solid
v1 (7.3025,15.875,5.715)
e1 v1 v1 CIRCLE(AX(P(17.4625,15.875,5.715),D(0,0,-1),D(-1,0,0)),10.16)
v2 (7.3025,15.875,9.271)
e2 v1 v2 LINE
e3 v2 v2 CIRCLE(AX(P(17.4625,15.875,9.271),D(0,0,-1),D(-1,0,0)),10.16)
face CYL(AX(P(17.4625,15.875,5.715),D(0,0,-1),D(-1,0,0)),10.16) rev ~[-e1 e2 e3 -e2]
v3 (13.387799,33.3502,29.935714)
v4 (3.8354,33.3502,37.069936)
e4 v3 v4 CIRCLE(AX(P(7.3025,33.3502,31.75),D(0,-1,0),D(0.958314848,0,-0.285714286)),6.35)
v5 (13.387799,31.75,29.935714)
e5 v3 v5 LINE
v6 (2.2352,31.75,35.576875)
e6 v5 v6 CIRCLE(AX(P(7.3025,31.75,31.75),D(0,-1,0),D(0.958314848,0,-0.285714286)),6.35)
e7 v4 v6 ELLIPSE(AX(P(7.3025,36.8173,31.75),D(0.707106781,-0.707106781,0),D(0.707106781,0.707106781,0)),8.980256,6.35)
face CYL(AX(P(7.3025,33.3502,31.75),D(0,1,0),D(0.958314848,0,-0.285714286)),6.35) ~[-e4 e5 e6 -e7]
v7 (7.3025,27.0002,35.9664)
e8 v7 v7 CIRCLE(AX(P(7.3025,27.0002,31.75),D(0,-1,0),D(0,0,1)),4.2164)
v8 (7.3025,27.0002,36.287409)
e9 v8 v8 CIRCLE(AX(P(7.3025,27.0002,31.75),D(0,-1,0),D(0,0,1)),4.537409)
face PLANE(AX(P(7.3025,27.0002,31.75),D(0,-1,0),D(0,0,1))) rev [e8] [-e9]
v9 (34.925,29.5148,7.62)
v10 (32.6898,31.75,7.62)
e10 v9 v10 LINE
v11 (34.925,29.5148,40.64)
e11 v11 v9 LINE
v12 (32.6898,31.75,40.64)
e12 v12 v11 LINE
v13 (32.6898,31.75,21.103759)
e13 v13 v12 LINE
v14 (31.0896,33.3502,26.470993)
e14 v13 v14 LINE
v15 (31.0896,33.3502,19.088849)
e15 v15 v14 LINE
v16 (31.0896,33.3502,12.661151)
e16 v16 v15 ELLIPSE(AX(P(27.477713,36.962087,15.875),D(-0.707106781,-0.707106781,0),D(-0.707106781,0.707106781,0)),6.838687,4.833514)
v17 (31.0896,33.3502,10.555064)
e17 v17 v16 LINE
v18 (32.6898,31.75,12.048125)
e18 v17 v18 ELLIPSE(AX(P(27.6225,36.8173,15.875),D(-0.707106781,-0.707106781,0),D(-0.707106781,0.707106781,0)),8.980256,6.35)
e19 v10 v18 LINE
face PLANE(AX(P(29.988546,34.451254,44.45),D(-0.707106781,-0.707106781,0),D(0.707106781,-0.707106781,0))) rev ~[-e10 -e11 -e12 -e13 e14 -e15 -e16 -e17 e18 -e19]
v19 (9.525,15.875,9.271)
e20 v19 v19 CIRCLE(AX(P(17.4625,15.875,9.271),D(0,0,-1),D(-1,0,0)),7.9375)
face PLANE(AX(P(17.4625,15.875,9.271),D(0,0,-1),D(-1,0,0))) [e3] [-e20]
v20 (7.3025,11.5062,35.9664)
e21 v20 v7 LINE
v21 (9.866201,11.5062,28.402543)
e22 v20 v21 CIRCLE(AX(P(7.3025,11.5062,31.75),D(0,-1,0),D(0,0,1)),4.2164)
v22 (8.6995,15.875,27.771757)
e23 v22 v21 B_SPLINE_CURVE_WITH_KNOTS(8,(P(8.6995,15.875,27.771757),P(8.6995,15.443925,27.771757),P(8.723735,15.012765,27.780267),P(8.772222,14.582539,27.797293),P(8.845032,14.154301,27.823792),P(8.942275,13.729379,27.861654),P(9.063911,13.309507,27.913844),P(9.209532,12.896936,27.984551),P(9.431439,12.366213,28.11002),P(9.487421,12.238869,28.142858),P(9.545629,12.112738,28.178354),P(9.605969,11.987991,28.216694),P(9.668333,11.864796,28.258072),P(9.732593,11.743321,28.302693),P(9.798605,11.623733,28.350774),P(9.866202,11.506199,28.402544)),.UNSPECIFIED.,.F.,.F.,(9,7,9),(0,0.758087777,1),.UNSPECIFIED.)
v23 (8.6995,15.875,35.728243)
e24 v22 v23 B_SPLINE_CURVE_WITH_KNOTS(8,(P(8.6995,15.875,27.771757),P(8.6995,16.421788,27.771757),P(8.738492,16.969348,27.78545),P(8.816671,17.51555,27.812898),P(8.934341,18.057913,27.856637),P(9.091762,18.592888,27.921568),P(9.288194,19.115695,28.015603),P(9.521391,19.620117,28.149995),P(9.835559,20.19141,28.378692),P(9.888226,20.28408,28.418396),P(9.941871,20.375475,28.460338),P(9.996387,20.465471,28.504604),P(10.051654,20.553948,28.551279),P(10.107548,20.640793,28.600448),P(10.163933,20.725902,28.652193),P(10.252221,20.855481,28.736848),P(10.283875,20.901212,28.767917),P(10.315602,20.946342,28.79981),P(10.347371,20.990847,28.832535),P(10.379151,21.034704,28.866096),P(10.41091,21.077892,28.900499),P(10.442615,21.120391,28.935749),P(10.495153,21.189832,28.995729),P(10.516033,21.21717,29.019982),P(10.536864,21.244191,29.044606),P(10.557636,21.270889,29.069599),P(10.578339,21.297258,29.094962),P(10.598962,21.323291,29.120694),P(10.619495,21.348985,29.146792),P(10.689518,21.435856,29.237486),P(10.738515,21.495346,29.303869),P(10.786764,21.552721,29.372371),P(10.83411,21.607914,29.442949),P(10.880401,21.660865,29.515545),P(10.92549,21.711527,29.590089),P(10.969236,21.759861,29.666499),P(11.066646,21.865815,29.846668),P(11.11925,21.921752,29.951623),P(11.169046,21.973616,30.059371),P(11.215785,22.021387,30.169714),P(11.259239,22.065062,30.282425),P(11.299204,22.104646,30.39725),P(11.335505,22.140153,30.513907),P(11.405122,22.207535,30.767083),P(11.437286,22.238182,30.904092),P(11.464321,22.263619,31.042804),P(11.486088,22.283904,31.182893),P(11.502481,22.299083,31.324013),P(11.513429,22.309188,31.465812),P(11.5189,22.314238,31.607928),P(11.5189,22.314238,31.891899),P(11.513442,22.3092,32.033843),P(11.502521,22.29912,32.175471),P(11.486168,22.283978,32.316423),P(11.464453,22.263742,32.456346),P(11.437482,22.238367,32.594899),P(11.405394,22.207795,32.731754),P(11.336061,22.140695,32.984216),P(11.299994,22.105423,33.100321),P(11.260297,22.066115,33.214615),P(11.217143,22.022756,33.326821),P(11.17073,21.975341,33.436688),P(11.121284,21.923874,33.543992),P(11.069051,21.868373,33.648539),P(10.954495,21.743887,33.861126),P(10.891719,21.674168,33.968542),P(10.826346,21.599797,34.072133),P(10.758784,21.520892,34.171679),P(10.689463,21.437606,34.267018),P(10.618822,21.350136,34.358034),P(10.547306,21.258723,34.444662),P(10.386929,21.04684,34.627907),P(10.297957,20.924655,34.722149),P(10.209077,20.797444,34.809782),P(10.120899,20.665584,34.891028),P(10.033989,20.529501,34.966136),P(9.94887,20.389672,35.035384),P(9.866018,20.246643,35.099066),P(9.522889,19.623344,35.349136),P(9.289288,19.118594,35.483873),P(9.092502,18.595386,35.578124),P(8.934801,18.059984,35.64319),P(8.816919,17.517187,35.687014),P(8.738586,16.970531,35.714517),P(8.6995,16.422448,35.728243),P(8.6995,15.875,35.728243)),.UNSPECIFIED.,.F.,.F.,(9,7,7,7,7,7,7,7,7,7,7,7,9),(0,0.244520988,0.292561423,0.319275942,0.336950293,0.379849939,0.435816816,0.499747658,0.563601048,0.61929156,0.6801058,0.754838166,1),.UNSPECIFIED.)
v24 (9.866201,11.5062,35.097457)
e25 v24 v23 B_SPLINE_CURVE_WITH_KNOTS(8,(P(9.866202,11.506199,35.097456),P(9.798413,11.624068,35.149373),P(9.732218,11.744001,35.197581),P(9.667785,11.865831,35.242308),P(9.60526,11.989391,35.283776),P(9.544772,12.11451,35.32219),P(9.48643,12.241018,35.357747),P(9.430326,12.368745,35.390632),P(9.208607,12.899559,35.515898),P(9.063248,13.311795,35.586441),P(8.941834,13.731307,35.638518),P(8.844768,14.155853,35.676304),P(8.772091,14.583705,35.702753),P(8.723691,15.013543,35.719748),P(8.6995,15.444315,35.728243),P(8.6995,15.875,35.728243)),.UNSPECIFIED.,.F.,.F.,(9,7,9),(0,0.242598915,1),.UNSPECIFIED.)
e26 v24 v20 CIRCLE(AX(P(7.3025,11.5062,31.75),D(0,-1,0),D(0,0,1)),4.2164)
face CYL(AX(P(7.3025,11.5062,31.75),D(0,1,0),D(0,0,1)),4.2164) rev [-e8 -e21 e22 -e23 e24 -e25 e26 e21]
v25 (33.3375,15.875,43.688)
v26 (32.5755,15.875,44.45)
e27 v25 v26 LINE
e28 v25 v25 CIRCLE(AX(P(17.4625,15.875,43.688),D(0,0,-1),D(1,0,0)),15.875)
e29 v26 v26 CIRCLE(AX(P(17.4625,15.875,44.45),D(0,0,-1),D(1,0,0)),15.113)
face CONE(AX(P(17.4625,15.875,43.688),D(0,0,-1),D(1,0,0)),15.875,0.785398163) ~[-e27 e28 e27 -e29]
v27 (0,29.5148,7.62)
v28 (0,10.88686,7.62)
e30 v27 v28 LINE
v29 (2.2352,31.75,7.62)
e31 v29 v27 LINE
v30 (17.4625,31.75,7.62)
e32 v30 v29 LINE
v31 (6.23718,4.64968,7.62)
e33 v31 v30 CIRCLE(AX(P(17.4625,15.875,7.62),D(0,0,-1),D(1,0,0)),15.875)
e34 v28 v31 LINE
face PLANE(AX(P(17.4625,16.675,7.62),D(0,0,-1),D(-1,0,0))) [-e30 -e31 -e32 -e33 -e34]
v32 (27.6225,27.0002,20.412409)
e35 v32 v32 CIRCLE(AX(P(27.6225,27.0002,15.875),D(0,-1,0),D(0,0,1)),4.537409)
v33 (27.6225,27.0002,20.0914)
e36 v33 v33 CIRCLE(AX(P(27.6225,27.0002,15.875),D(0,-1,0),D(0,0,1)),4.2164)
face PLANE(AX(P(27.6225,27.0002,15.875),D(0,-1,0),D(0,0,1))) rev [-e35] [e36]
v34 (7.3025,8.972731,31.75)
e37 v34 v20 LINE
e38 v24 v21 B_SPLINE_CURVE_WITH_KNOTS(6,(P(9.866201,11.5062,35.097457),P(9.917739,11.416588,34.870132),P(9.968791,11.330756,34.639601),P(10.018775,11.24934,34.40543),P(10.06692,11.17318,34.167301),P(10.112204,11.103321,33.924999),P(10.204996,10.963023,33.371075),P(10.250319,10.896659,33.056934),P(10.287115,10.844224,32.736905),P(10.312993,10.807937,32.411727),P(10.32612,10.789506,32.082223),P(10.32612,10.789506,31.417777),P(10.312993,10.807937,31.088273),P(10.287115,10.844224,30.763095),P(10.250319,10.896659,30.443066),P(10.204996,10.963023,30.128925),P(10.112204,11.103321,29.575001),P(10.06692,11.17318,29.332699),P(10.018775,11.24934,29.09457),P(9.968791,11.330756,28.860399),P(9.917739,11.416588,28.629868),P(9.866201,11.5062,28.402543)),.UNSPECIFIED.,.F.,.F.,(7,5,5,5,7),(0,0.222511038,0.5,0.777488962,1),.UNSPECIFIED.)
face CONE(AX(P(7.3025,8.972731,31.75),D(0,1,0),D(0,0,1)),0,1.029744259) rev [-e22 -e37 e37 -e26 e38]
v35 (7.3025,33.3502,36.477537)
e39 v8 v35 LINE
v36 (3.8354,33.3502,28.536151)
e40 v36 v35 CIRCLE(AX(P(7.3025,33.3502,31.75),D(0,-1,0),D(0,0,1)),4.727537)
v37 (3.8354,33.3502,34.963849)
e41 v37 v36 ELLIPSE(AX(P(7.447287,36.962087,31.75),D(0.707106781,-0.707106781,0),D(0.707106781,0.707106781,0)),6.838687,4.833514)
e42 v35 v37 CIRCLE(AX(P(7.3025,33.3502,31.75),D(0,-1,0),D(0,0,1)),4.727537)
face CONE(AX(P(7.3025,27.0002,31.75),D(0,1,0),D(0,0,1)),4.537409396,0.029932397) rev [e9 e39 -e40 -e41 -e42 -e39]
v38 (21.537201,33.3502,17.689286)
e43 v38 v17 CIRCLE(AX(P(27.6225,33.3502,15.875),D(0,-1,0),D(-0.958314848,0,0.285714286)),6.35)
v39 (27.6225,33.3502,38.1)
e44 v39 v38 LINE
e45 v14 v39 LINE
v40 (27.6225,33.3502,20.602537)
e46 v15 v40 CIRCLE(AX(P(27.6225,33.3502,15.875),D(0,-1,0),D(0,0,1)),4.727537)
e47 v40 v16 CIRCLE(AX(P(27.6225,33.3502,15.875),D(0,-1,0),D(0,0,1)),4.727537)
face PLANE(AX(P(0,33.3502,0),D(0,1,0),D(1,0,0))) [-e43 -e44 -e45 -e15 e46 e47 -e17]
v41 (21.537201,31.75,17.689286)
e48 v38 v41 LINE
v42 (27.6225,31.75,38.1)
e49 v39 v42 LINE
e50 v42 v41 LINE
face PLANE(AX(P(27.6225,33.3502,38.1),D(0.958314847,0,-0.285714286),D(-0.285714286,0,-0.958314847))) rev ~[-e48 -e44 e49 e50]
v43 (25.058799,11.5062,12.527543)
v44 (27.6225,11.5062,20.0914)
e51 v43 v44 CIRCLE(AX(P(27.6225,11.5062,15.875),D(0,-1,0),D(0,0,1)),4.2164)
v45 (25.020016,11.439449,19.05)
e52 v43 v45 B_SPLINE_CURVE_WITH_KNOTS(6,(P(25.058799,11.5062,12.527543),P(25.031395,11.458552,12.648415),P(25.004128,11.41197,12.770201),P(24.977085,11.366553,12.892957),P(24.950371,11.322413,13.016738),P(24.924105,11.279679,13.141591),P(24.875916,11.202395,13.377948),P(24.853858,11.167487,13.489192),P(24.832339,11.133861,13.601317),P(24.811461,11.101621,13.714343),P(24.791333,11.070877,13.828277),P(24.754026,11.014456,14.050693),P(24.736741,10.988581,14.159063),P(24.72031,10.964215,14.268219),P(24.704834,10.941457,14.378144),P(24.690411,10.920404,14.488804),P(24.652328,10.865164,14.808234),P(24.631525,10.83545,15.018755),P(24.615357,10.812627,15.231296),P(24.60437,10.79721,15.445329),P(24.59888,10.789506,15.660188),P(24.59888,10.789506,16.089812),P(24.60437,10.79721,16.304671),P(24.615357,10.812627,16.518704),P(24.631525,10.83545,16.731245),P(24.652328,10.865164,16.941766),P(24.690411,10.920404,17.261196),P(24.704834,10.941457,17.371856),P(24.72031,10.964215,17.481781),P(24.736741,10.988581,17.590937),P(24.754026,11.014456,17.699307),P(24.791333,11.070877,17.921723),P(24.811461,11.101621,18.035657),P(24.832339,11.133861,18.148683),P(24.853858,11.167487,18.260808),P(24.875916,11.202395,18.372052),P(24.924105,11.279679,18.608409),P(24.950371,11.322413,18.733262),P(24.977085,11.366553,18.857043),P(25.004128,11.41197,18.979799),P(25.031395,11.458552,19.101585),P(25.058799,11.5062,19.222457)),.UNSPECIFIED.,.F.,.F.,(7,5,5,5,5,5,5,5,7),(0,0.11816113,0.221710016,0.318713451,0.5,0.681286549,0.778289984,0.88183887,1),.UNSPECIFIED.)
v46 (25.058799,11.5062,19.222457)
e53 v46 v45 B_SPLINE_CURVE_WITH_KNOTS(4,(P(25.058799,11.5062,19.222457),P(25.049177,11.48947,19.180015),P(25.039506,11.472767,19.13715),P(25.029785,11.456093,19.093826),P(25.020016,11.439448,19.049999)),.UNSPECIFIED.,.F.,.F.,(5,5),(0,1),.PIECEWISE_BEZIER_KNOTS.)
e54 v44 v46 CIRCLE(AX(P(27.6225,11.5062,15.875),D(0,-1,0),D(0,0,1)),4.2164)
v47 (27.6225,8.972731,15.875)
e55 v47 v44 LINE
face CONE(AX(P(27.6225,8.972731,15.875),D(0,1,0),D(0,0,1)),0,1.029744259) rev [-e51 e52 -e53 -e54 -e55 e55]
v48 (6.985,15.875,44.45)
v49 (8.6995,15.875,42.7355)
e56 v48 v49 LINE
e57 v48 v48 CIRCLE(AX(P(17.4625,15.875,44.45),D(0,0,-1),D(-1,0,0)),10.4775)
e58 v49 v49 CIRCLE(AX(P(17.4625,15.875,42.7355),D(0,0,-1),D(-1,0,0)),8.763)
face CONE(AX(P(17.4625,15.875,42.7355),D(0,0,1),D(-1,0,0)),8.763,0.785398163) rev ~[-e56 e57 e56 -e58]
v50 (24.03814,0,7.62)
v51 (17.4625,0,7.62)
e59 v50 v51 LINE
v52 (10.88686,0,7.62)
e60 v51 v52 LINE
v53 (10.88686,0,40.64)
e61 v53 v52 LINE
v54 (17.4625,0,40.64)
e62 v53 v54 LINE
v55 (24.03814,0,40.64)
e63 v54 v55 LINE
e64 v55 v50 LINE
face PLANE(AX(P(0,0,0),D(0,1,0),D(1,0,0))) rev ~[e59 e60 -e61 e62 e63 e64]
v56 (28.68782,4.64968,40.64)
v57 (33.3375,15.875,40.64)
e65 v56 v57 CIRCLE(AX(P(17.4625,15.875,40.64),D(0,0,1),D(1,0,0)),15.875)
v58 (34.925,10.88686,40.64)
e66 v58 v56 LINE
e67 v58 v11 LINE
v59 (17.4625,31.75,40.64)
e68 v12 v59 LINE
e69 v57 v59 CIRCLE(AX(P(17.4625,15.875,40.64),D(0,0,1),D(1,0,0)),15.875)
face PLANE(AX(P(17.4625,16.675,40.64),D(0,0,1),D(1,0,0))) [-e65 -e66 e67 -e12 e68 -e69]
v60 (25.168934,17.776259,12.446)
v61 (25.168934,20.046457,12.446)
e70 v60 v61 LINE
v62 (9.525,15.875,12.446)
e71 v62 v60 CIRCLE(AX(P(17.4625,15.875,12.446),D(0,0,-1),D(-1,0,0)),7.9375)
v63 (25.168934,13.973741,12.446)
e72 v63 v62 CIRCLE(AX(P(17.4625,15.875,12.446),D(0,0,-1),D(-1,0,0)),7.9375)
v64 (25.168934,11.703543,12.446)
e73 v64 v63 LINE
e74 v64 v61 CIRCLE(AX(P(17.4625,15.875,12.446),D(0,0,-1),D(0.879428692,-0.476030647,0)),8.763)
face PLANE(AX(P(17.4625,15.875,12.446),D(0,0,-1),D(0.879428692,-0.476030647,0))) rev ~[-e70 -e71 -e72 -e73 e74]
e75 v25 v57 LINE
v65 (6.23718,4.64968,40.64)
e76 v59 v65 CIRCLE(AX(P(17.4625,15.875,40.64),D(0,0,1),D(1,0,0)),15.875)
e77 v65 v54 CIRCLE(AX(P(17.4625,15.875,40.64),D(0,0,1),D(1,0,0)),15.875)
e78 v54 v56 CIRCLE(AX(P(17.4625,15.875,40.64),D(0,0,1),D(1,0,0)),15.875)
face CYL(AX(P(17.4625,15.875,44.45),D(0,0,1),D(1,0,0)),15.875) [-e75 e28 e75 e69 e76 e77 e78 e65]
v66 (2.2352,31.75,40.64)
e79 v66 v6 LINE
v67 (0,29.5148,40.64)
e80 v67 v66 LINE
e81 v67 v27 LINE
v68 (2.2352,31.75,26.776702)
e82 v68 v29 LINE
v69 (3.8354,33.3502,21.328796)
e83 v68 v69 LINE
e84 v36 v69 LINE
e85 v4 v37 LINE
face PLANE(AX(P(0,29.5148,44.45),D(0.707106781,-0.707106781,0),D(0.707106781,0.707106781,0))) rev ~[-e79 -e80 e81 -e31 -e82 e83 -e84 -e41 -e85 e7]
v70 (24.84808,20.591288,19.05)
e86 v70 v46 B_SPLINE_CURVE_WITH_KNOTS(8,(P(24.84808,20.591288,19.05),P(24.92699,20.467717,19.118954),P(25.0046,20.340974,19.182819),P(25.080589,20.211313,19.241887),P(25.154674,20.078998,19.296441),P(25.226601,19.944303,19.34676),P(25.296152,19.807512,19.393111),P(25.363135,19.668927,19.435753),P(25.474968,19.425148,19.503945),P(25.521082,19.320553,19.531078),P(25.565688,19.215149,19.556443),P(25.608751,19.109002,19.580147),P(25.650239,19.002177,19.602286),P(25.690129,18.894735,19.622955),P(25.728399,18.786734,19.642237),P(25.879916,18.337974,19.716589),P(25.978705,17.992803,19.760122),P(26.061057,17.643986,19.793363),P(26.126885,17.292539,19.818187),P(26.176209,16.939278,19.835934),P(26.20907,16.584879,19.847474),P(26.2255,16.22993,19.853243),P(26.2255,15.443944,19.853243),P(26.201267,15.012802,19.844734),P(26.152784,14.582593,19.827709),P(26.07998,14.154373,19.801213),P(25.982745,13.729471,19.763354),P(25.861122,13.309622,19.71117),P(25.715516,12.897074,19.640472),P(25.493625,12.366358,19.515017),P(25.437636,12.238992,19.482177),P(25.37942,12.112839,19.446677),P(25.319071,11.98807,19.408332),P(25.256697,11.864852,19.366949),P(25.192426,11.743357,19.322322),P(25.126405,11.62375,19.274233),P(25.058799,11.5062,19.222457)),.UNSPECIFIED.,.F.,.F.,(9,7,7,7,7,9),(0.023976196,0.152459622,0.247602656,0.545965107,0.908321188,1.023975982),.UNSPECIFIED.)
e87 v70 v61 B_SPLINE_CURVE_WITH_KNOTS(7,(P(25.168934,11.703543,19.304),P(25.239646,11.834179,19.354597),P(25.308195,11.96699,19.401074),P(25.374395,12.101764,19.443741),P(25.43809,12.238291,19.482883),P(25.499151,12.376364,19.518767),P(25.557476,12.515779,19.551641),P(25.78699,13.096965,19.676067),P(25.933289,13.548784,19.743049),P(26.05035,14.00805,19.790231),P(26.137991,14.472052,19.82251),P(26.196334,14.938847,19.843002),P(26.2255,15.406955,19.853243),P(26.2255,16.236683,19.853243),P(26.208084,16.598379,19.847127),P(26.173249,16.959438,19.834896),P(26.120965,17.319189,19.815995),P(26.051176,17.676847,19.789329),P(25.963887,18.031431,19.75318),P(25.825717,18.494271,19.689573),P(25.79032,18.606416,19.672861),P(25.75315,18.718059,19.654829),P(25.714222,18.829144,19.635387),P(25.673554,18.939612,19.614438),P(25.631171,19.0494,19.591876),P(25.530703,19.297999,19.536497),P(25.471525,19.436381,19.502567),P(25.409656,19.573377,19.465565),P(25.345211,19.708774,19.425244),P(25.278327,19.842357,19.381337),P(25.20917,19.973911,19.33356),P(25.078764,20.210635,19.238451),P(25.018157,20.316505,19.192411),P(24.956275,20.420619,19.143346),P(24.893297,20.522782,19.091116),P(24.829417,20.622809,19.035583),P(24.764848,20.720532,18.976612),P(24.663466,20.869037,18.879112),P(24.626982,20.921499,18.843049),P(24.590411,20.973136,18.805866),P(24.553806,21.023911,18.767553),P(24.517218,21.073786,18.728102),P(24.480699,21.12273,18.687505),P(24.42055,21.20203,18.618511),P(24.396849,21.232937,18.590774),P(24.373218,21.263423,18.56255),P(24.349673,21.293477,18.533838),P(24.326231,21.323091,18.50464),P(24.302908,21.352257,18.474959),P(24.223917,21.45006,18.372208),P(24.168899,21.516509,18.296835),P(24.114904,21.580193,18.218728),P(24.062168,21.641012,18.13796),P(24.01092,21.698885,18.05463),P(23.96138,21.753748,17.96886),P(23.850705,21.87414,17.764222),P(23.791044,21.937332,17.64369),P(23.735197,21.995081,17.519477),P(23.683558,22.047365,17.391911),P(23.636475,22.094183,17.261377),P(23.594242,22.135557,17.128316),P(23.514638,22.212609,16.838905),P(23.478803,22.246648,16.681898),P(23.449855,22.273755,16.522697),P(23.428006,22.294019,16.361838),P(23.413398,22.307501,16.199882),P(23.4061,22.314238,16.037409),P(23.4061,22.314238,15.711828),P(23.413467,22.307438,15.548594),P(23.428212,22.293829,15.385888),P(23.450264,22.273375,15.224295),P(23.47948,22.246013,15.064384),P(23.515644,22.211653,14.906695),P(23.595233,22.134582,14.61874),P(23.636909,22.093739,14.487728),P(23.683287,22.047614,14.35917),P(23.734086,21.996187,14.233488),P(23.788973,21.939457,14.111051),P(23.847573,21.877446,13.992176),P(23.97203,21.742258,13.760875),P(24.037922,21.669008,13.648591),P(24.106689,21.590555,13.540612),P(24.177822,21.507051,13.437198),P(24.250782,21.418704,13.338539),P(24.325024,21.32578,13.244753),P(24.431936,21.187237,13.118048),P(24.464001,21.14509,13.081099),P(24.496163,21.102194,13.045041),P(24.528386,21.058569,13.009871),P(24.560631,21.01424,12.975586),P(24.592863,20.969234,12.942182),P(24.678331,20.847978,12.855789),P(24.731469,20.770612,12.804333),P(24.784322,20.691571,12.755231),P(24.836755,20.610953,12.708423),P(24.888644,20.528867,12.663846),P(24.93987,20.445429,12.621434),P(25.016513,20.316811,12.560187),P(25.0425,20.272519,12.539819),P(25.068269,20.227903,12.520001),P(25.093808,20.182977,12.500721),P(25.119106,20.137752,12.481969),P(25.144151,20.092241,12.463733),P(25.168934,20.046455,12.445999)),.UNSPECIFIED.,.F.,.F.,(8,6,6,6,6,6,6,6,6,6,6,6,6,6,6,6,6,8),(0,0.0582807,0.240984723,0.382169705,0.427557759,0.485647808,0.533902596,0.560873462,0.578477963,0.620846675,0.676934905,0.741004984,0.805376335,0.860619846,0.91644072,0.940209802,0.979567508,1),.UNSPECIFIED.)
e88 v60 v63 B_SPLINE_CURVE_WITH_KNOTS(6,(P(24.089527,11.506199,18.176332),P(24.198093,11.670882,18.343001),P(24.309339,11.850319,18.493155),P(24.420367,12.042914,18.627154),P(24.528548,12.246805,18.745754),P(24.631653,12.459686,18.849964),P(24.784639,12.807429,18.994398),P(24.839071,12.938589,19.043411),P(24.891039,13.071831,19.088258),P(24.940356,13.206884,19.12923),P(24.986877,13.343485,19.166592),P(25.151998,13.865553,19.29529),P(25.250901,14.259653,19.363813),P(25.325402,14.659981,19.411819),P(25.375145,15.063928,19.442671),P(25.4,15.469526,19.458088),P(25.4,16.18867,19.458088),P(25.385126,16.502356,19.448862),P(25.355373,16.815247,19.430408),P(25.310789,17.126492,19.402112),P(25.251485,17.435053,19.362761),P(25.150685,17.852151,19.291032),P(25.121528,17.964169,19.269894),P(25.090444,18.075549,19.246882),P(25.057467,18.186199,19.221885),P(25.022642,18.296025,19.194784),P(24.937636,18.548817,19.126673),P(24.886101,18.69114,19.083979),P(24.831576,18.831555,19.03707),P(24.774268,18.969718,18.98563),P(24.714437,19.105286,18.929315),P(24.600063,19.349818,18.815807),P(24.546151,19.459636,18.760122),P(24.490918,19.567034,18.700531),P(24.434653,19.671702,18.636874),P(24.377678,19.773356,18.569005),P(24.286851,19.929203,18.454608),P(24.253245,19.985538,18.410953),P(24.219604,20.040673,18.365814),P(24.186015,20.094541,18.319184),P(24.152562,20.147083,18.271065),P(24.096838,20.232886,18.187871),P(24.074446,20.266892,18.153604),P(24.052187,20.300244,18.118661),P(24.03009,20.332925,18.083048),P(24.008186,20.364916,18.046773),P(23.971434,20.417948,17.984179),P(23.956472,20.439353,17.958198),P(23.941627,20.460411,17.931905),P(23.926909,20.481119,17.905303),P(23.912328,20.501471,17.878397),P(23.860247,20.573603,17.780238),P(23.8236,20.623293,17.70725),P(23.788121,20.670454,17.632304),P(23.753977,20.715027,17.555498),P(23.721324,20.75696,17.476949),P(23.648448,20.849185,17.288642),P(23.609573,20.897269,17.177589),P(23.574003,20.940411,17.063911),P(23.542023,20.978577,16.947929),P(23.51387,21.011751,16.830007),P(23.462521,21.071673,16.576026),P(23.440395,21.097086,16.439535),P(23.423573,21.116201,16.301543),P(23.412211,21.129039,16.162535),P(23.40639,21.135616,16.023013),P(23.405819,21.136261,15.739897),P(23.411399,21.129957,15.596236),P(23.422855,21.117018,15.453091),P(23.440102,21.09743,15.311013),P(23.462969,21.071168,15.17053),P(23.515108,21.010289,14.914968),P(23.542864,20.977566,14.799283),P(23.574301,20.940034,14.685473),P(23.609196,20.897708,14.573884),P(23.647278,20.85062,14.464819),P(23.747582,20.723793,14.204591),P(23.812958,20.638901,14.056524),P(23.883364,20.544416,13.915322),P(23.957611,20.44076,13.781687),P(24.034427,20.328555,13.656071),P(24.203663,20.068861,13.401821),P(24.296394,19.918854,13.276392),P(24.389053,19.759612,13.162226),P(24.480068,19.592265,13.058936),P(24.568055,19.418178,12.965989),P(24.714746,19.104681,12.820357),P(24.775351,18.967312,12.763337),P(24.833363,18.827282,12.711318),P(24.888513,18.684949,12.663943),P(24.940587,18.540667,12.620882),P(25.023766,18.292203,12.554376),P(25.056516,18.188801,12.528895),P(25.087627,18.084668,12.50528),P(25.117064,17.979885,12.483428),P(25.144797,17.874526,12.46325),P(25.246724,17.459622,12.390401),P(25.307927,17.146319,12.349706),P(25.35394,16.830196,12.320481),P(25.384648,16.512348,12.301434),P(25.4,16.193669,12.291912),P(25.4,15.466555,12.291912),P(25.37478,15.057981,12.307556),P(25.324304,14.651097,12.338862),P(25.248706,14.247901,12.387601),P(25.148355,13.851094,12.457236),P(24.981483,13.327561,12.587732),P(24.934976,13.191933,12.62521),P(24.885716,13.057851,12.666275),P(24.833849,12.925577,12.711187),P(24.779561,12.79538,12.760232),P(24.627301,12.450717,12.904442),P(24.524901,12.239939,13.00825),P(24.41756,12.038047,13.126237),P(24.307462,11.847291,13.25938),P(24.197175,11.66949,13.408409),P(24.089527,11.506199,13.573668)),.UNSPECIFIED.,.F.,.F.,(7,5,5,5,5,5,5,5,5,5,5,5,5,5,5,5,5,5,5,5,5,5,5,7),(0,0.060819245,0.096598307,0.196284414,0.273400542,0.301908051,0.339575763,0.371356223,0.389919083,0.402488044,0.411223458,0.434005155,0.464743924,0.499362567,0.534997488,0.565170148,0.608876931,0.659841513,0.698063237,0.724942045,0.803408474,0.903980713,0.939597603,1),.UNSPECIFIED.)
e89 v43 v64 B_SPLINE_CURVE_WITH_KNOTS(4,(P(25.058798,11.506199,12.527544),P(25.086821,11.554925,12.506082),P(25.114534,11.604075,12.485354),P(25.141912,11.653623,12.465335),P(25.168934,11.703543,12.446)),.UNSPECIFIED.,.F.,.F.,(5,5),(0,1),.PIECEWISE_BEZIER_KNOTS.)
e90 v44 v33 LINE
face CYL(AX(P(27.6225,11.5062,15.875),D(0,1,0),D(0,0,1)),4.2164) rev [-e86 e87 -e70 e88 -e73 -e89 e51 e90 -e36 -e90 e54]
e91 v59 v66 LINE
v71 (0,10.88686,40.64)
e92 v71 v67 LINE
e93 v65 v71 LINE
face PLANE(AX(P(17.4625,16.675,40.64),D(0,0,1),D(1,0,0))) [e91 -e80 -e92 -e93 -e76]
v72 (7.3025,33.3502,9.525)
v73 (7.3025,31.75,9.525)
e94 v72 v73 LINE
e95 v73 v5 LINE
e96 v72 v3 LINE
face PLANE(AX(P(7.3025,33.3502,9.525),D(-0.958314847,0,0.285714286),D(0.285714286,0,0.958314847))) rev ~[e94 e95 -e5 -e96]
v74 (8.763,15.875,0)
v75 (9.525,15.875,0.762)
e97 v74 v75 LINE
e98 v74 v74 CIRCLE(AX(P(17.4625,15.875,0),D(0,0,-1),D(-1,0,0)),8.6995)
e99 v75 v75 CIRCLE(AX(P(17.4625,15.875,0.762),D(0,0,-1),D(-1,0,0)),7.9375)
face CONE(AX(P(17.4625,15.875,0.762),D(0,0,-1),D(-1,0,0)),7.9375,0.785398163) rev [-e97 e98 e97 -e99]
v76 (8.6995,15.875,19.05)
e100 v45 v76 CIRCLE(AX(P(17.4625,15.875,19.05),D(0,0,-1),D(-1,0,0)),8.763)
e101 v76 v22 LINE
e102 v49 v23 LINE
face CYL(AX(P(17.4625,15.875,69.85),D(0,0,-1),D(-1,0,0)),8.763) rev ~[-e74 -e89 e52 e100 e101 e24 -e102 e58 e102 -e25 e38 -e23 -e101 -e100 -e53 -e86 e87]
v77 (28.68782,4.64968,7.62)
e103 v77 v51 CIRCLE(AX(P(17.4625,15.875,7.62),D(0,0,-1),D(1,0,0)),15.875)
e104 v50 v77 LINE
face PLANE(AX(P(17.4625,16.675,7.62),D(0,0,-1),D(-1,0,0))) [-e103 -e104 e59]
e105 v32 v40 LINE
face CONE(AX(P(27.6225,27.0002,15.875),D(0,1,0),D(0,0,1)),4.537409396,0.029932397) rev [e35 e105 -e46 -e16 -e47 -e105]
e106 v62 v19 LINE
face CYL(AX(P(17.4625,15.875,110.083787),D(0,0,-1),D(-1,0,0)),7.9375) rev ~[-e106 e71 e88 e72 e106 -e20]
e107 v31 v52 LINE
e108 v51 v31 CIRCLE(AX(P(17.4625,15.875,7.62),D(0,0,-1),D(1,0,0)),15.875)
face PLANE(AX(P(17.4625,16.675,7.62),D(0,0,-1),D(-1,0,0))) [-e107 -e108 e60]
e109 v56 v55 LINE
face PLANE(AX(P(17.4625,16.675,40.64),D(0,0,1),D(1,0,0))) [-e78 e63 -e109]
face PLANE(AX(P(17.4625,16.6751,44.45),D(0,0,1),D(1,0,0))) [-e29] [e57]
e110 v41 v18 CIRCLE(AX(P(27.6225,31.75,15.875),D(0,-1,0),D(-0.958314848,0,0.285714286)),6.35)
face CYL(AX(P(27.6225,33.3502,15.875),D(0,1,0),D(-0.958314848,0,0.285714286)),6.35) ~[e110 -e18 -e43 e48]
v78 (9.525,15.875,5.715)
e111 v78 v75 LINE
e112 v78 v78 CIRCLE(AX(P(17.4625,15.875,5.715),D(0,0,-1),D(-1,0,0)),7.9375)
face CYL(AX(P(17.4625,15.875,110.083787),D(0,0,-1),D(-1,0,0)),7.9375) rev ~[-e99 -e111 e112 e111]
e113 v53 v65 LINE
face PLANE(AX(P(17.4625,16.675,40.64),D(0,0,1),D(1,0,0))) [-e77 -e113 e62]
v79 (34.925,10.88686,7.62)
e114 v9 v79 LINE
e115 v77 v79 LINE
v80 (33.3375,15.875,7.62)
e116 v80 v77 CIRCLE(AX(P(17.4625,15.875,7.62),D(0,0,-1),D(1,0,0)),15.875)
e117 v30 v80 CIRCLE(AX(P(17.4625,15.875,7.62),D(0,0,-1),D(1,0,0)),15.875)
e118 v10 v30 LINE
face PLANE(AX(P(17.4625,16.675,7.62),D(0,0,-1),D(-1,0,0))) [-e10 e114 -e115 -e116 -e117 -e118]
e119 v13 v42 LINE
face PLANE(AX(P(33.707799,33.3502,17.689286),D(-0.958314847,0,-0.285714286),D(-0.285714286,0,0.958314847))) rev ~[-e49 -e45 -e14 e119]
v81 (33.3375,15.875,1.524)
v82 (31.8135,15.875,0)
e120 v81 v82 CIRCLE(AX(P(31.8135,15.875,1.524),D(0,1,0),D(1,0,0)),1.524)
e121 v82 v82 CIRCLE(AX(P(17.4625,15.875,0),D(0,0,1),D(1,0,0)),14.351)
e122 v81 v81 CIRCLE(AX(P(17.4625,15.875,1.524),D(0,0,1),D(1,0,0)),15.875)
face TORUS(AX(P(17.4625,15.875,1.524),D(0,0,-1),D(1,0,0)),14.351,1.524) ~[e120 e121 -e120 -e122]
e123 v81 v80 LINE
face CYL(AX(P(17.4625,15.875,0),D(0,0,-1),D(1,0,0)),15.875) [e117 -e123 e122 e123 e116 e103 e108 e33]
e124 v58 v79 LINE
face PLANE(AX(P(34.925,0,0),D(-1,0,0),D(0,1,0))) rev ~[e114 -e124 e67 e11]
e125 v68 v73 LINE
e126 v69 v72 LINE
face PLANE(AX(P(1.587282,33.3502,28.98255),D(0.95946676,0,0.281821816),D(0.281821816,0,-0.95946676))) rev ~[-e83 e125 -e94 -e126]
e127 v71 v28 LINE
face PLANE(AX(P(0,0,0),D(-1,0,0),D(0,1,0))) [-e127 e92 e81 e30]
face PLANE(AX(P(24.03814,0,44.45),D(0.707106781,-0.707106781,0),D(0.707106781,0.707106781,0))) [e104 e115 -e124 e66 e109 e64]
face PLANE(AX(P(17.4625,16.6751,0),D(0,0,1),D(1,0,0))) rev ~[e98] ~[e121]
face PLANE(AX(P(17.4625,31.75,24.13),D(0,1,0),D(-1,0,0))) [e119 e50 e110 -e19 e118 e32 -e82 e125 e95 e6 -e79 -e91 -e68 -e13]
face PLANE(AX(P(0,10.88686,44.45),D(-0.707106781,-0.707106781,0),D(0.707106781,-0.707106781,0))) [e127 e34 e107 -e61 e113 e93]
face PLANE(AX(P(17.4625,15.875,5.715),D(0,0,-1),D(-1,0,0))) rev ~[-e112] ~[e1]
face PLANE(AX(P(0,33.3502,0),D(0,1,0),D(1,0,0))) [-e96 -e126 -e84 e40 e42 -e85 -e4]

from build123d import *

# Parameters (mm, degrees)
SKETCH1_W                         = 34.925
SKETCH1_H                         = 33.3502
EXTRUDE1_DEPTH                    = 44.45
CUT_EXTRUDE1_DEPTH                = 44.45
SKETCH3_OUTSIDE_W                 = 50.051
SKETCH3_OUTSIDE_H                 = 48.476
SKETCH3_OUTSIDE_R                 = 15.875
CUT_EXTRUDE2_DEPTH                = 3.81
F_1_8_NPT_TAPPED_HOLE1_AT_2_COUNT = 2
F_1_8_NPT_TAPPED_HOLE1_AT_2_PITCH = 25.78600444
SKETCH5_OUTSIDE_W                 = 50.051
SKETCH5_OUTSIDE_H                 = 48.476
SKETCH5_OUTSIDE_R                 = 15.875
CUT_EXTRUDE3_DEPTH                = 7.62
SKETCH6_W                         = 34.925
SKETCH6_H                         = 33.02
CUT_EXTRUDE4_DEPTH                = 1.6002
CUT_EXTRUDE5_DEPTH                = 45.45
F_5_8_0_625_DIAMETER_HOLE1_D      = 15.875
F_3_4_16_TAPPED_HOLE1_D           = 17.526
F_3_4_16_TAPPED_HOLE1_DEPTH       = 25.4
F_3_4_16_TAPPED_HOLE1_TIP         = 5.265341605
SKETCH16_R                        = 10.16
CUT_EXTRUDE7_DEPTH                = 3.556
CHAMFER1_SIZE                     = 0.762
FILLET1_R                         = 1.524
CHAMFER2_SIZE                     = 1.7145
SKETCH18_R                        = 8.763
CUT_EXTRUDE9_DEPTH                = 7.62


with BuildPart() as part:
    # Sketch1 → Extrude1 (new body)
    with BuildSketch(Plane.XY):
        with Locations((17.4625, 16.6751)):
            Rectangle(SKETCH1_W, SKETCH1_H)
    extrude(amount=EXTRUDE1_DEPTH)

    # Sketch2 → Cut-Extrude1 (cut)
    with BuildSketch(Plane.XY.offset(44.45)):
        Polygon((24.038140303, 0), (34.925, 10.886859697), (38.95323648, 7.676224118), (37.650767603, -4.874839611), (-1.660111248, -5.999699096), (-2.784970733, 8.327458557), (0, 10.886859697), (10.886859697, 0), (18.528156354, -3.690776995), align=None)
    extrude(amount=-CUT_EXTRUDE1_DEPTH, mode=Mode.SUBTRACT)

    # Sketch3 outside → Cut-Extrude2 (cut)
    with BuildSketch(Plane.XY.offset(44.45)):
        with Locations((17.4625, 16.675)):
            Rectangle(SKETCH3_OUTSIDE_W, SKETCH3_OUTSIDE_H)
        with Locations((17.4625, 15.875)):
            Circle(SKETCH3_OUTSIDE_R, mode=Mode.SUBTRACT)
    extrude(amount=-CUT_EXTRUDE2_DEPTH, mode=Mode.SUBTRACT)

    # Sketch4 → 1/8 NPT Tapped Hole1 (revolve, cut)
    with BuildSketch(Plane(origin=(7.3025, 33.3502, 31.75), x_dir=(0, 0, 1), z_dir=(1, 0, 0))):
        Polygon((0, 0), (0, 24.377468714), (4.2164, 21.844), (4.2164, 6.35), (4.537409396, 6.35), (4.7275369, 0), align=None)
    f_1_8_npt_tapped_hole1 = revolve(axis=Axis((7.3025, 39.7002, 31.75), (0, -1, 0)), mode=Mode.SUBTRACT)

    # 1/8 NPT Tapped Hole1 at 2: 1/8 NPT Tapped Hole1 ×2
    with Locations(*[Vector(0.788024374, 0, -0.615644042) * (i * F_1_8_NPT_TAPPED_HOLE1_AT_2_PITCH) for i in range(1, F_1_8_NPT_TAPPED_HOLE1_AT_2_COUNT)]):
        add(f_1_8_npt_tapped_hole1, mode=Mode.SUBTRACT)

    # Sketch5 outside → Cut-Extrude3 (cut)
    with BuildSketch(Plane(origin=(0, 0, 0), x_dir=(-1, 0, 0), z_dir=(0, 0, -1))):
        with Locations((-17.4625, 16.675)):
            Rectangle(SKETCH5_OUTSIDE_W, SKETCH5_OUTSIDE_H)
        with Locations(Location((-17.4625, 15.875, 0), (0, 0, 180))):  # turned: the seam where the file's is
            Circle(SKETCH5_OUTSIDE_R, mode=Mode.SUBTRACT)
    extrude(amount=-CUT_EXTRUDE3_DEPTH, mode=Mode.SUBTRACT)

    # Sketch6 → Cut-Extrude4 (cut)
    with BuildSketch(Plane(origin=(0, 33.3502, 0), x_dir=(-1, 0, 0), z_dir=(0, 1, 0))):
        with Locations((-17.4625, 24.13)):
            Rectangle(SKETCH6_W, SKETCH6_H)
        with BuildLine():
            Line((-33.707799282, 17.689285714), (-27.6225, 38.1))
            Line((-27.6225, 38.1), (-21.537200718, 17.689285714))
            ThreePointArc((-21.537200718, 17.689285714), (-27.6225, 9.525), (-33.707799282, 17.689285714))
        make_face(mode=Mode.SUBTRACT)
        with BuildLine():
            Line((-7.3025, 9.525), (-13.387799282, 29.935714286))
            ThreePointArc((-13.387799282, 29.935714286), (-7.839432762, 38.077258744), (-0.998497845, 30.98707351))
            ThreePointArc((-0.998497845, 30.98707351), (-1.209886072, 29.96043147), (-1.587281519, 28.982550324))
            Line((-1.587281519, 28.982550324), (-7.3025, 9.525))
        make_face(mode=Mode.SUBTRACT)
    extrude(amount=-CUT_EXTRUDE4_DEPTH, mode=Mode.SUBTRACT)

    # Sketch8 → Cut-Extrude5 (cut, through all)
    with BuildSketch(Plane.XY.offset(44.45)):
        Polygon((0, 29.5148), (8.827956785, 38.342756785), (29.988545511, 34.451254489), (34.925, 29.5148), (37.769173864, 38.094844764), (-2.725767603, 41.455222953), (-4.620267788, 29.436987401), align=None)
    extrude(amount=-CUT_EXTRUDE5_DEPTH, mode=Mode.SUBTRACT)

    # 5/8 (0.625) Diameter Hole1 (through all)
    with Locations(Plane(origin=(17.4625, 15.875, 44.45), x_dir=(1, 0, 0), z_dir=(0, 0, 1))):
        with Locations((0, 0)):
            Hole(F_5_8_0_625_DIAMETER_HOLE1_D / 2)

    # 3/4-16 Tapped Hole1
    with Locations(Plane(origin=(17.4625, 15.875, 44.45), x_dir=(1, 0, 0), z_dir=(0, 0, 1))):
        with Locations((0, 0)):
            Hole(F_3_4_16_TAPPED_HOLE1_D / 2, depth=F_3_4_16_TAPPED_HOLE1_DEPTH)
            with Locations((0, 0, -(F_3_4_16_TAPPED_HOLE1_DEPTH + F_3_4_16_TAPPED_HOLE1_TIP / 2))):  # 118° drill point
                Cone(0, F_3_4_16_TAPPED_HOLE1_D / 2, F_3_4_16_TAPPED_HOLE1_TIP, mode=Mode.SUBTRACT)

    # Sketch16 → Cut-Extrude7 (cut)
    with BuildSketch(Plane(origin=(0, 0, 5.715), x_dir=(-1, 0, 0), z_dir=(0, 0, -1))):
        with Locations((-17.4625, 15.875)):
            Circle(SKETCH16_R)
    extrude(amount=-CUT_EXTRUDE7_DEPTH, mode=Mode.SUBTRACT)

    # Chamfer1
    chamfer1_edges = [part.edges().sort_by_distance(p)[0] for p in [
        (25.4, 15.875, 0),
        (1.5875, 15.875, 44.45),
    ]]
    chamfer(chamfer1_edges, length=CHAMFER1_SIZE)

    # Fillet1
    fillet1_edges = [part.edges().sort_by_distance(p)[0] for p in [
        (1.5875, 15.875, 0),
    ]]
    fillet(fillet1_edges, radius=FILLET1_R)

    # Chamfer2
    chamfer2_edges = [part.edges().sort_by_distance(p)[0] for p in [
        (26.2255, 15.875, 44.45),
    ]]
    chamfer(chamfer2_edges, length=CHAMFER2_SIZE)

    # Sketch18 → Cut-Extrude9 (cut)
    with BuildSketch(Plane(origin=(0, 0, 12.446), x_dir=(-1, 0, 0), z_dir=(0, 0, -1))):
        with Locations(Location((-17.4625, 15.875, 0), (0, 0, 208.426476552))):  # turned: the seam where the file's is
            Circle(SKETCH18_R)
    extrude(amount=-CUT_EXTRUDE9_DEPTH, mode=Mode.SUBTRACT)


solid = part.part
